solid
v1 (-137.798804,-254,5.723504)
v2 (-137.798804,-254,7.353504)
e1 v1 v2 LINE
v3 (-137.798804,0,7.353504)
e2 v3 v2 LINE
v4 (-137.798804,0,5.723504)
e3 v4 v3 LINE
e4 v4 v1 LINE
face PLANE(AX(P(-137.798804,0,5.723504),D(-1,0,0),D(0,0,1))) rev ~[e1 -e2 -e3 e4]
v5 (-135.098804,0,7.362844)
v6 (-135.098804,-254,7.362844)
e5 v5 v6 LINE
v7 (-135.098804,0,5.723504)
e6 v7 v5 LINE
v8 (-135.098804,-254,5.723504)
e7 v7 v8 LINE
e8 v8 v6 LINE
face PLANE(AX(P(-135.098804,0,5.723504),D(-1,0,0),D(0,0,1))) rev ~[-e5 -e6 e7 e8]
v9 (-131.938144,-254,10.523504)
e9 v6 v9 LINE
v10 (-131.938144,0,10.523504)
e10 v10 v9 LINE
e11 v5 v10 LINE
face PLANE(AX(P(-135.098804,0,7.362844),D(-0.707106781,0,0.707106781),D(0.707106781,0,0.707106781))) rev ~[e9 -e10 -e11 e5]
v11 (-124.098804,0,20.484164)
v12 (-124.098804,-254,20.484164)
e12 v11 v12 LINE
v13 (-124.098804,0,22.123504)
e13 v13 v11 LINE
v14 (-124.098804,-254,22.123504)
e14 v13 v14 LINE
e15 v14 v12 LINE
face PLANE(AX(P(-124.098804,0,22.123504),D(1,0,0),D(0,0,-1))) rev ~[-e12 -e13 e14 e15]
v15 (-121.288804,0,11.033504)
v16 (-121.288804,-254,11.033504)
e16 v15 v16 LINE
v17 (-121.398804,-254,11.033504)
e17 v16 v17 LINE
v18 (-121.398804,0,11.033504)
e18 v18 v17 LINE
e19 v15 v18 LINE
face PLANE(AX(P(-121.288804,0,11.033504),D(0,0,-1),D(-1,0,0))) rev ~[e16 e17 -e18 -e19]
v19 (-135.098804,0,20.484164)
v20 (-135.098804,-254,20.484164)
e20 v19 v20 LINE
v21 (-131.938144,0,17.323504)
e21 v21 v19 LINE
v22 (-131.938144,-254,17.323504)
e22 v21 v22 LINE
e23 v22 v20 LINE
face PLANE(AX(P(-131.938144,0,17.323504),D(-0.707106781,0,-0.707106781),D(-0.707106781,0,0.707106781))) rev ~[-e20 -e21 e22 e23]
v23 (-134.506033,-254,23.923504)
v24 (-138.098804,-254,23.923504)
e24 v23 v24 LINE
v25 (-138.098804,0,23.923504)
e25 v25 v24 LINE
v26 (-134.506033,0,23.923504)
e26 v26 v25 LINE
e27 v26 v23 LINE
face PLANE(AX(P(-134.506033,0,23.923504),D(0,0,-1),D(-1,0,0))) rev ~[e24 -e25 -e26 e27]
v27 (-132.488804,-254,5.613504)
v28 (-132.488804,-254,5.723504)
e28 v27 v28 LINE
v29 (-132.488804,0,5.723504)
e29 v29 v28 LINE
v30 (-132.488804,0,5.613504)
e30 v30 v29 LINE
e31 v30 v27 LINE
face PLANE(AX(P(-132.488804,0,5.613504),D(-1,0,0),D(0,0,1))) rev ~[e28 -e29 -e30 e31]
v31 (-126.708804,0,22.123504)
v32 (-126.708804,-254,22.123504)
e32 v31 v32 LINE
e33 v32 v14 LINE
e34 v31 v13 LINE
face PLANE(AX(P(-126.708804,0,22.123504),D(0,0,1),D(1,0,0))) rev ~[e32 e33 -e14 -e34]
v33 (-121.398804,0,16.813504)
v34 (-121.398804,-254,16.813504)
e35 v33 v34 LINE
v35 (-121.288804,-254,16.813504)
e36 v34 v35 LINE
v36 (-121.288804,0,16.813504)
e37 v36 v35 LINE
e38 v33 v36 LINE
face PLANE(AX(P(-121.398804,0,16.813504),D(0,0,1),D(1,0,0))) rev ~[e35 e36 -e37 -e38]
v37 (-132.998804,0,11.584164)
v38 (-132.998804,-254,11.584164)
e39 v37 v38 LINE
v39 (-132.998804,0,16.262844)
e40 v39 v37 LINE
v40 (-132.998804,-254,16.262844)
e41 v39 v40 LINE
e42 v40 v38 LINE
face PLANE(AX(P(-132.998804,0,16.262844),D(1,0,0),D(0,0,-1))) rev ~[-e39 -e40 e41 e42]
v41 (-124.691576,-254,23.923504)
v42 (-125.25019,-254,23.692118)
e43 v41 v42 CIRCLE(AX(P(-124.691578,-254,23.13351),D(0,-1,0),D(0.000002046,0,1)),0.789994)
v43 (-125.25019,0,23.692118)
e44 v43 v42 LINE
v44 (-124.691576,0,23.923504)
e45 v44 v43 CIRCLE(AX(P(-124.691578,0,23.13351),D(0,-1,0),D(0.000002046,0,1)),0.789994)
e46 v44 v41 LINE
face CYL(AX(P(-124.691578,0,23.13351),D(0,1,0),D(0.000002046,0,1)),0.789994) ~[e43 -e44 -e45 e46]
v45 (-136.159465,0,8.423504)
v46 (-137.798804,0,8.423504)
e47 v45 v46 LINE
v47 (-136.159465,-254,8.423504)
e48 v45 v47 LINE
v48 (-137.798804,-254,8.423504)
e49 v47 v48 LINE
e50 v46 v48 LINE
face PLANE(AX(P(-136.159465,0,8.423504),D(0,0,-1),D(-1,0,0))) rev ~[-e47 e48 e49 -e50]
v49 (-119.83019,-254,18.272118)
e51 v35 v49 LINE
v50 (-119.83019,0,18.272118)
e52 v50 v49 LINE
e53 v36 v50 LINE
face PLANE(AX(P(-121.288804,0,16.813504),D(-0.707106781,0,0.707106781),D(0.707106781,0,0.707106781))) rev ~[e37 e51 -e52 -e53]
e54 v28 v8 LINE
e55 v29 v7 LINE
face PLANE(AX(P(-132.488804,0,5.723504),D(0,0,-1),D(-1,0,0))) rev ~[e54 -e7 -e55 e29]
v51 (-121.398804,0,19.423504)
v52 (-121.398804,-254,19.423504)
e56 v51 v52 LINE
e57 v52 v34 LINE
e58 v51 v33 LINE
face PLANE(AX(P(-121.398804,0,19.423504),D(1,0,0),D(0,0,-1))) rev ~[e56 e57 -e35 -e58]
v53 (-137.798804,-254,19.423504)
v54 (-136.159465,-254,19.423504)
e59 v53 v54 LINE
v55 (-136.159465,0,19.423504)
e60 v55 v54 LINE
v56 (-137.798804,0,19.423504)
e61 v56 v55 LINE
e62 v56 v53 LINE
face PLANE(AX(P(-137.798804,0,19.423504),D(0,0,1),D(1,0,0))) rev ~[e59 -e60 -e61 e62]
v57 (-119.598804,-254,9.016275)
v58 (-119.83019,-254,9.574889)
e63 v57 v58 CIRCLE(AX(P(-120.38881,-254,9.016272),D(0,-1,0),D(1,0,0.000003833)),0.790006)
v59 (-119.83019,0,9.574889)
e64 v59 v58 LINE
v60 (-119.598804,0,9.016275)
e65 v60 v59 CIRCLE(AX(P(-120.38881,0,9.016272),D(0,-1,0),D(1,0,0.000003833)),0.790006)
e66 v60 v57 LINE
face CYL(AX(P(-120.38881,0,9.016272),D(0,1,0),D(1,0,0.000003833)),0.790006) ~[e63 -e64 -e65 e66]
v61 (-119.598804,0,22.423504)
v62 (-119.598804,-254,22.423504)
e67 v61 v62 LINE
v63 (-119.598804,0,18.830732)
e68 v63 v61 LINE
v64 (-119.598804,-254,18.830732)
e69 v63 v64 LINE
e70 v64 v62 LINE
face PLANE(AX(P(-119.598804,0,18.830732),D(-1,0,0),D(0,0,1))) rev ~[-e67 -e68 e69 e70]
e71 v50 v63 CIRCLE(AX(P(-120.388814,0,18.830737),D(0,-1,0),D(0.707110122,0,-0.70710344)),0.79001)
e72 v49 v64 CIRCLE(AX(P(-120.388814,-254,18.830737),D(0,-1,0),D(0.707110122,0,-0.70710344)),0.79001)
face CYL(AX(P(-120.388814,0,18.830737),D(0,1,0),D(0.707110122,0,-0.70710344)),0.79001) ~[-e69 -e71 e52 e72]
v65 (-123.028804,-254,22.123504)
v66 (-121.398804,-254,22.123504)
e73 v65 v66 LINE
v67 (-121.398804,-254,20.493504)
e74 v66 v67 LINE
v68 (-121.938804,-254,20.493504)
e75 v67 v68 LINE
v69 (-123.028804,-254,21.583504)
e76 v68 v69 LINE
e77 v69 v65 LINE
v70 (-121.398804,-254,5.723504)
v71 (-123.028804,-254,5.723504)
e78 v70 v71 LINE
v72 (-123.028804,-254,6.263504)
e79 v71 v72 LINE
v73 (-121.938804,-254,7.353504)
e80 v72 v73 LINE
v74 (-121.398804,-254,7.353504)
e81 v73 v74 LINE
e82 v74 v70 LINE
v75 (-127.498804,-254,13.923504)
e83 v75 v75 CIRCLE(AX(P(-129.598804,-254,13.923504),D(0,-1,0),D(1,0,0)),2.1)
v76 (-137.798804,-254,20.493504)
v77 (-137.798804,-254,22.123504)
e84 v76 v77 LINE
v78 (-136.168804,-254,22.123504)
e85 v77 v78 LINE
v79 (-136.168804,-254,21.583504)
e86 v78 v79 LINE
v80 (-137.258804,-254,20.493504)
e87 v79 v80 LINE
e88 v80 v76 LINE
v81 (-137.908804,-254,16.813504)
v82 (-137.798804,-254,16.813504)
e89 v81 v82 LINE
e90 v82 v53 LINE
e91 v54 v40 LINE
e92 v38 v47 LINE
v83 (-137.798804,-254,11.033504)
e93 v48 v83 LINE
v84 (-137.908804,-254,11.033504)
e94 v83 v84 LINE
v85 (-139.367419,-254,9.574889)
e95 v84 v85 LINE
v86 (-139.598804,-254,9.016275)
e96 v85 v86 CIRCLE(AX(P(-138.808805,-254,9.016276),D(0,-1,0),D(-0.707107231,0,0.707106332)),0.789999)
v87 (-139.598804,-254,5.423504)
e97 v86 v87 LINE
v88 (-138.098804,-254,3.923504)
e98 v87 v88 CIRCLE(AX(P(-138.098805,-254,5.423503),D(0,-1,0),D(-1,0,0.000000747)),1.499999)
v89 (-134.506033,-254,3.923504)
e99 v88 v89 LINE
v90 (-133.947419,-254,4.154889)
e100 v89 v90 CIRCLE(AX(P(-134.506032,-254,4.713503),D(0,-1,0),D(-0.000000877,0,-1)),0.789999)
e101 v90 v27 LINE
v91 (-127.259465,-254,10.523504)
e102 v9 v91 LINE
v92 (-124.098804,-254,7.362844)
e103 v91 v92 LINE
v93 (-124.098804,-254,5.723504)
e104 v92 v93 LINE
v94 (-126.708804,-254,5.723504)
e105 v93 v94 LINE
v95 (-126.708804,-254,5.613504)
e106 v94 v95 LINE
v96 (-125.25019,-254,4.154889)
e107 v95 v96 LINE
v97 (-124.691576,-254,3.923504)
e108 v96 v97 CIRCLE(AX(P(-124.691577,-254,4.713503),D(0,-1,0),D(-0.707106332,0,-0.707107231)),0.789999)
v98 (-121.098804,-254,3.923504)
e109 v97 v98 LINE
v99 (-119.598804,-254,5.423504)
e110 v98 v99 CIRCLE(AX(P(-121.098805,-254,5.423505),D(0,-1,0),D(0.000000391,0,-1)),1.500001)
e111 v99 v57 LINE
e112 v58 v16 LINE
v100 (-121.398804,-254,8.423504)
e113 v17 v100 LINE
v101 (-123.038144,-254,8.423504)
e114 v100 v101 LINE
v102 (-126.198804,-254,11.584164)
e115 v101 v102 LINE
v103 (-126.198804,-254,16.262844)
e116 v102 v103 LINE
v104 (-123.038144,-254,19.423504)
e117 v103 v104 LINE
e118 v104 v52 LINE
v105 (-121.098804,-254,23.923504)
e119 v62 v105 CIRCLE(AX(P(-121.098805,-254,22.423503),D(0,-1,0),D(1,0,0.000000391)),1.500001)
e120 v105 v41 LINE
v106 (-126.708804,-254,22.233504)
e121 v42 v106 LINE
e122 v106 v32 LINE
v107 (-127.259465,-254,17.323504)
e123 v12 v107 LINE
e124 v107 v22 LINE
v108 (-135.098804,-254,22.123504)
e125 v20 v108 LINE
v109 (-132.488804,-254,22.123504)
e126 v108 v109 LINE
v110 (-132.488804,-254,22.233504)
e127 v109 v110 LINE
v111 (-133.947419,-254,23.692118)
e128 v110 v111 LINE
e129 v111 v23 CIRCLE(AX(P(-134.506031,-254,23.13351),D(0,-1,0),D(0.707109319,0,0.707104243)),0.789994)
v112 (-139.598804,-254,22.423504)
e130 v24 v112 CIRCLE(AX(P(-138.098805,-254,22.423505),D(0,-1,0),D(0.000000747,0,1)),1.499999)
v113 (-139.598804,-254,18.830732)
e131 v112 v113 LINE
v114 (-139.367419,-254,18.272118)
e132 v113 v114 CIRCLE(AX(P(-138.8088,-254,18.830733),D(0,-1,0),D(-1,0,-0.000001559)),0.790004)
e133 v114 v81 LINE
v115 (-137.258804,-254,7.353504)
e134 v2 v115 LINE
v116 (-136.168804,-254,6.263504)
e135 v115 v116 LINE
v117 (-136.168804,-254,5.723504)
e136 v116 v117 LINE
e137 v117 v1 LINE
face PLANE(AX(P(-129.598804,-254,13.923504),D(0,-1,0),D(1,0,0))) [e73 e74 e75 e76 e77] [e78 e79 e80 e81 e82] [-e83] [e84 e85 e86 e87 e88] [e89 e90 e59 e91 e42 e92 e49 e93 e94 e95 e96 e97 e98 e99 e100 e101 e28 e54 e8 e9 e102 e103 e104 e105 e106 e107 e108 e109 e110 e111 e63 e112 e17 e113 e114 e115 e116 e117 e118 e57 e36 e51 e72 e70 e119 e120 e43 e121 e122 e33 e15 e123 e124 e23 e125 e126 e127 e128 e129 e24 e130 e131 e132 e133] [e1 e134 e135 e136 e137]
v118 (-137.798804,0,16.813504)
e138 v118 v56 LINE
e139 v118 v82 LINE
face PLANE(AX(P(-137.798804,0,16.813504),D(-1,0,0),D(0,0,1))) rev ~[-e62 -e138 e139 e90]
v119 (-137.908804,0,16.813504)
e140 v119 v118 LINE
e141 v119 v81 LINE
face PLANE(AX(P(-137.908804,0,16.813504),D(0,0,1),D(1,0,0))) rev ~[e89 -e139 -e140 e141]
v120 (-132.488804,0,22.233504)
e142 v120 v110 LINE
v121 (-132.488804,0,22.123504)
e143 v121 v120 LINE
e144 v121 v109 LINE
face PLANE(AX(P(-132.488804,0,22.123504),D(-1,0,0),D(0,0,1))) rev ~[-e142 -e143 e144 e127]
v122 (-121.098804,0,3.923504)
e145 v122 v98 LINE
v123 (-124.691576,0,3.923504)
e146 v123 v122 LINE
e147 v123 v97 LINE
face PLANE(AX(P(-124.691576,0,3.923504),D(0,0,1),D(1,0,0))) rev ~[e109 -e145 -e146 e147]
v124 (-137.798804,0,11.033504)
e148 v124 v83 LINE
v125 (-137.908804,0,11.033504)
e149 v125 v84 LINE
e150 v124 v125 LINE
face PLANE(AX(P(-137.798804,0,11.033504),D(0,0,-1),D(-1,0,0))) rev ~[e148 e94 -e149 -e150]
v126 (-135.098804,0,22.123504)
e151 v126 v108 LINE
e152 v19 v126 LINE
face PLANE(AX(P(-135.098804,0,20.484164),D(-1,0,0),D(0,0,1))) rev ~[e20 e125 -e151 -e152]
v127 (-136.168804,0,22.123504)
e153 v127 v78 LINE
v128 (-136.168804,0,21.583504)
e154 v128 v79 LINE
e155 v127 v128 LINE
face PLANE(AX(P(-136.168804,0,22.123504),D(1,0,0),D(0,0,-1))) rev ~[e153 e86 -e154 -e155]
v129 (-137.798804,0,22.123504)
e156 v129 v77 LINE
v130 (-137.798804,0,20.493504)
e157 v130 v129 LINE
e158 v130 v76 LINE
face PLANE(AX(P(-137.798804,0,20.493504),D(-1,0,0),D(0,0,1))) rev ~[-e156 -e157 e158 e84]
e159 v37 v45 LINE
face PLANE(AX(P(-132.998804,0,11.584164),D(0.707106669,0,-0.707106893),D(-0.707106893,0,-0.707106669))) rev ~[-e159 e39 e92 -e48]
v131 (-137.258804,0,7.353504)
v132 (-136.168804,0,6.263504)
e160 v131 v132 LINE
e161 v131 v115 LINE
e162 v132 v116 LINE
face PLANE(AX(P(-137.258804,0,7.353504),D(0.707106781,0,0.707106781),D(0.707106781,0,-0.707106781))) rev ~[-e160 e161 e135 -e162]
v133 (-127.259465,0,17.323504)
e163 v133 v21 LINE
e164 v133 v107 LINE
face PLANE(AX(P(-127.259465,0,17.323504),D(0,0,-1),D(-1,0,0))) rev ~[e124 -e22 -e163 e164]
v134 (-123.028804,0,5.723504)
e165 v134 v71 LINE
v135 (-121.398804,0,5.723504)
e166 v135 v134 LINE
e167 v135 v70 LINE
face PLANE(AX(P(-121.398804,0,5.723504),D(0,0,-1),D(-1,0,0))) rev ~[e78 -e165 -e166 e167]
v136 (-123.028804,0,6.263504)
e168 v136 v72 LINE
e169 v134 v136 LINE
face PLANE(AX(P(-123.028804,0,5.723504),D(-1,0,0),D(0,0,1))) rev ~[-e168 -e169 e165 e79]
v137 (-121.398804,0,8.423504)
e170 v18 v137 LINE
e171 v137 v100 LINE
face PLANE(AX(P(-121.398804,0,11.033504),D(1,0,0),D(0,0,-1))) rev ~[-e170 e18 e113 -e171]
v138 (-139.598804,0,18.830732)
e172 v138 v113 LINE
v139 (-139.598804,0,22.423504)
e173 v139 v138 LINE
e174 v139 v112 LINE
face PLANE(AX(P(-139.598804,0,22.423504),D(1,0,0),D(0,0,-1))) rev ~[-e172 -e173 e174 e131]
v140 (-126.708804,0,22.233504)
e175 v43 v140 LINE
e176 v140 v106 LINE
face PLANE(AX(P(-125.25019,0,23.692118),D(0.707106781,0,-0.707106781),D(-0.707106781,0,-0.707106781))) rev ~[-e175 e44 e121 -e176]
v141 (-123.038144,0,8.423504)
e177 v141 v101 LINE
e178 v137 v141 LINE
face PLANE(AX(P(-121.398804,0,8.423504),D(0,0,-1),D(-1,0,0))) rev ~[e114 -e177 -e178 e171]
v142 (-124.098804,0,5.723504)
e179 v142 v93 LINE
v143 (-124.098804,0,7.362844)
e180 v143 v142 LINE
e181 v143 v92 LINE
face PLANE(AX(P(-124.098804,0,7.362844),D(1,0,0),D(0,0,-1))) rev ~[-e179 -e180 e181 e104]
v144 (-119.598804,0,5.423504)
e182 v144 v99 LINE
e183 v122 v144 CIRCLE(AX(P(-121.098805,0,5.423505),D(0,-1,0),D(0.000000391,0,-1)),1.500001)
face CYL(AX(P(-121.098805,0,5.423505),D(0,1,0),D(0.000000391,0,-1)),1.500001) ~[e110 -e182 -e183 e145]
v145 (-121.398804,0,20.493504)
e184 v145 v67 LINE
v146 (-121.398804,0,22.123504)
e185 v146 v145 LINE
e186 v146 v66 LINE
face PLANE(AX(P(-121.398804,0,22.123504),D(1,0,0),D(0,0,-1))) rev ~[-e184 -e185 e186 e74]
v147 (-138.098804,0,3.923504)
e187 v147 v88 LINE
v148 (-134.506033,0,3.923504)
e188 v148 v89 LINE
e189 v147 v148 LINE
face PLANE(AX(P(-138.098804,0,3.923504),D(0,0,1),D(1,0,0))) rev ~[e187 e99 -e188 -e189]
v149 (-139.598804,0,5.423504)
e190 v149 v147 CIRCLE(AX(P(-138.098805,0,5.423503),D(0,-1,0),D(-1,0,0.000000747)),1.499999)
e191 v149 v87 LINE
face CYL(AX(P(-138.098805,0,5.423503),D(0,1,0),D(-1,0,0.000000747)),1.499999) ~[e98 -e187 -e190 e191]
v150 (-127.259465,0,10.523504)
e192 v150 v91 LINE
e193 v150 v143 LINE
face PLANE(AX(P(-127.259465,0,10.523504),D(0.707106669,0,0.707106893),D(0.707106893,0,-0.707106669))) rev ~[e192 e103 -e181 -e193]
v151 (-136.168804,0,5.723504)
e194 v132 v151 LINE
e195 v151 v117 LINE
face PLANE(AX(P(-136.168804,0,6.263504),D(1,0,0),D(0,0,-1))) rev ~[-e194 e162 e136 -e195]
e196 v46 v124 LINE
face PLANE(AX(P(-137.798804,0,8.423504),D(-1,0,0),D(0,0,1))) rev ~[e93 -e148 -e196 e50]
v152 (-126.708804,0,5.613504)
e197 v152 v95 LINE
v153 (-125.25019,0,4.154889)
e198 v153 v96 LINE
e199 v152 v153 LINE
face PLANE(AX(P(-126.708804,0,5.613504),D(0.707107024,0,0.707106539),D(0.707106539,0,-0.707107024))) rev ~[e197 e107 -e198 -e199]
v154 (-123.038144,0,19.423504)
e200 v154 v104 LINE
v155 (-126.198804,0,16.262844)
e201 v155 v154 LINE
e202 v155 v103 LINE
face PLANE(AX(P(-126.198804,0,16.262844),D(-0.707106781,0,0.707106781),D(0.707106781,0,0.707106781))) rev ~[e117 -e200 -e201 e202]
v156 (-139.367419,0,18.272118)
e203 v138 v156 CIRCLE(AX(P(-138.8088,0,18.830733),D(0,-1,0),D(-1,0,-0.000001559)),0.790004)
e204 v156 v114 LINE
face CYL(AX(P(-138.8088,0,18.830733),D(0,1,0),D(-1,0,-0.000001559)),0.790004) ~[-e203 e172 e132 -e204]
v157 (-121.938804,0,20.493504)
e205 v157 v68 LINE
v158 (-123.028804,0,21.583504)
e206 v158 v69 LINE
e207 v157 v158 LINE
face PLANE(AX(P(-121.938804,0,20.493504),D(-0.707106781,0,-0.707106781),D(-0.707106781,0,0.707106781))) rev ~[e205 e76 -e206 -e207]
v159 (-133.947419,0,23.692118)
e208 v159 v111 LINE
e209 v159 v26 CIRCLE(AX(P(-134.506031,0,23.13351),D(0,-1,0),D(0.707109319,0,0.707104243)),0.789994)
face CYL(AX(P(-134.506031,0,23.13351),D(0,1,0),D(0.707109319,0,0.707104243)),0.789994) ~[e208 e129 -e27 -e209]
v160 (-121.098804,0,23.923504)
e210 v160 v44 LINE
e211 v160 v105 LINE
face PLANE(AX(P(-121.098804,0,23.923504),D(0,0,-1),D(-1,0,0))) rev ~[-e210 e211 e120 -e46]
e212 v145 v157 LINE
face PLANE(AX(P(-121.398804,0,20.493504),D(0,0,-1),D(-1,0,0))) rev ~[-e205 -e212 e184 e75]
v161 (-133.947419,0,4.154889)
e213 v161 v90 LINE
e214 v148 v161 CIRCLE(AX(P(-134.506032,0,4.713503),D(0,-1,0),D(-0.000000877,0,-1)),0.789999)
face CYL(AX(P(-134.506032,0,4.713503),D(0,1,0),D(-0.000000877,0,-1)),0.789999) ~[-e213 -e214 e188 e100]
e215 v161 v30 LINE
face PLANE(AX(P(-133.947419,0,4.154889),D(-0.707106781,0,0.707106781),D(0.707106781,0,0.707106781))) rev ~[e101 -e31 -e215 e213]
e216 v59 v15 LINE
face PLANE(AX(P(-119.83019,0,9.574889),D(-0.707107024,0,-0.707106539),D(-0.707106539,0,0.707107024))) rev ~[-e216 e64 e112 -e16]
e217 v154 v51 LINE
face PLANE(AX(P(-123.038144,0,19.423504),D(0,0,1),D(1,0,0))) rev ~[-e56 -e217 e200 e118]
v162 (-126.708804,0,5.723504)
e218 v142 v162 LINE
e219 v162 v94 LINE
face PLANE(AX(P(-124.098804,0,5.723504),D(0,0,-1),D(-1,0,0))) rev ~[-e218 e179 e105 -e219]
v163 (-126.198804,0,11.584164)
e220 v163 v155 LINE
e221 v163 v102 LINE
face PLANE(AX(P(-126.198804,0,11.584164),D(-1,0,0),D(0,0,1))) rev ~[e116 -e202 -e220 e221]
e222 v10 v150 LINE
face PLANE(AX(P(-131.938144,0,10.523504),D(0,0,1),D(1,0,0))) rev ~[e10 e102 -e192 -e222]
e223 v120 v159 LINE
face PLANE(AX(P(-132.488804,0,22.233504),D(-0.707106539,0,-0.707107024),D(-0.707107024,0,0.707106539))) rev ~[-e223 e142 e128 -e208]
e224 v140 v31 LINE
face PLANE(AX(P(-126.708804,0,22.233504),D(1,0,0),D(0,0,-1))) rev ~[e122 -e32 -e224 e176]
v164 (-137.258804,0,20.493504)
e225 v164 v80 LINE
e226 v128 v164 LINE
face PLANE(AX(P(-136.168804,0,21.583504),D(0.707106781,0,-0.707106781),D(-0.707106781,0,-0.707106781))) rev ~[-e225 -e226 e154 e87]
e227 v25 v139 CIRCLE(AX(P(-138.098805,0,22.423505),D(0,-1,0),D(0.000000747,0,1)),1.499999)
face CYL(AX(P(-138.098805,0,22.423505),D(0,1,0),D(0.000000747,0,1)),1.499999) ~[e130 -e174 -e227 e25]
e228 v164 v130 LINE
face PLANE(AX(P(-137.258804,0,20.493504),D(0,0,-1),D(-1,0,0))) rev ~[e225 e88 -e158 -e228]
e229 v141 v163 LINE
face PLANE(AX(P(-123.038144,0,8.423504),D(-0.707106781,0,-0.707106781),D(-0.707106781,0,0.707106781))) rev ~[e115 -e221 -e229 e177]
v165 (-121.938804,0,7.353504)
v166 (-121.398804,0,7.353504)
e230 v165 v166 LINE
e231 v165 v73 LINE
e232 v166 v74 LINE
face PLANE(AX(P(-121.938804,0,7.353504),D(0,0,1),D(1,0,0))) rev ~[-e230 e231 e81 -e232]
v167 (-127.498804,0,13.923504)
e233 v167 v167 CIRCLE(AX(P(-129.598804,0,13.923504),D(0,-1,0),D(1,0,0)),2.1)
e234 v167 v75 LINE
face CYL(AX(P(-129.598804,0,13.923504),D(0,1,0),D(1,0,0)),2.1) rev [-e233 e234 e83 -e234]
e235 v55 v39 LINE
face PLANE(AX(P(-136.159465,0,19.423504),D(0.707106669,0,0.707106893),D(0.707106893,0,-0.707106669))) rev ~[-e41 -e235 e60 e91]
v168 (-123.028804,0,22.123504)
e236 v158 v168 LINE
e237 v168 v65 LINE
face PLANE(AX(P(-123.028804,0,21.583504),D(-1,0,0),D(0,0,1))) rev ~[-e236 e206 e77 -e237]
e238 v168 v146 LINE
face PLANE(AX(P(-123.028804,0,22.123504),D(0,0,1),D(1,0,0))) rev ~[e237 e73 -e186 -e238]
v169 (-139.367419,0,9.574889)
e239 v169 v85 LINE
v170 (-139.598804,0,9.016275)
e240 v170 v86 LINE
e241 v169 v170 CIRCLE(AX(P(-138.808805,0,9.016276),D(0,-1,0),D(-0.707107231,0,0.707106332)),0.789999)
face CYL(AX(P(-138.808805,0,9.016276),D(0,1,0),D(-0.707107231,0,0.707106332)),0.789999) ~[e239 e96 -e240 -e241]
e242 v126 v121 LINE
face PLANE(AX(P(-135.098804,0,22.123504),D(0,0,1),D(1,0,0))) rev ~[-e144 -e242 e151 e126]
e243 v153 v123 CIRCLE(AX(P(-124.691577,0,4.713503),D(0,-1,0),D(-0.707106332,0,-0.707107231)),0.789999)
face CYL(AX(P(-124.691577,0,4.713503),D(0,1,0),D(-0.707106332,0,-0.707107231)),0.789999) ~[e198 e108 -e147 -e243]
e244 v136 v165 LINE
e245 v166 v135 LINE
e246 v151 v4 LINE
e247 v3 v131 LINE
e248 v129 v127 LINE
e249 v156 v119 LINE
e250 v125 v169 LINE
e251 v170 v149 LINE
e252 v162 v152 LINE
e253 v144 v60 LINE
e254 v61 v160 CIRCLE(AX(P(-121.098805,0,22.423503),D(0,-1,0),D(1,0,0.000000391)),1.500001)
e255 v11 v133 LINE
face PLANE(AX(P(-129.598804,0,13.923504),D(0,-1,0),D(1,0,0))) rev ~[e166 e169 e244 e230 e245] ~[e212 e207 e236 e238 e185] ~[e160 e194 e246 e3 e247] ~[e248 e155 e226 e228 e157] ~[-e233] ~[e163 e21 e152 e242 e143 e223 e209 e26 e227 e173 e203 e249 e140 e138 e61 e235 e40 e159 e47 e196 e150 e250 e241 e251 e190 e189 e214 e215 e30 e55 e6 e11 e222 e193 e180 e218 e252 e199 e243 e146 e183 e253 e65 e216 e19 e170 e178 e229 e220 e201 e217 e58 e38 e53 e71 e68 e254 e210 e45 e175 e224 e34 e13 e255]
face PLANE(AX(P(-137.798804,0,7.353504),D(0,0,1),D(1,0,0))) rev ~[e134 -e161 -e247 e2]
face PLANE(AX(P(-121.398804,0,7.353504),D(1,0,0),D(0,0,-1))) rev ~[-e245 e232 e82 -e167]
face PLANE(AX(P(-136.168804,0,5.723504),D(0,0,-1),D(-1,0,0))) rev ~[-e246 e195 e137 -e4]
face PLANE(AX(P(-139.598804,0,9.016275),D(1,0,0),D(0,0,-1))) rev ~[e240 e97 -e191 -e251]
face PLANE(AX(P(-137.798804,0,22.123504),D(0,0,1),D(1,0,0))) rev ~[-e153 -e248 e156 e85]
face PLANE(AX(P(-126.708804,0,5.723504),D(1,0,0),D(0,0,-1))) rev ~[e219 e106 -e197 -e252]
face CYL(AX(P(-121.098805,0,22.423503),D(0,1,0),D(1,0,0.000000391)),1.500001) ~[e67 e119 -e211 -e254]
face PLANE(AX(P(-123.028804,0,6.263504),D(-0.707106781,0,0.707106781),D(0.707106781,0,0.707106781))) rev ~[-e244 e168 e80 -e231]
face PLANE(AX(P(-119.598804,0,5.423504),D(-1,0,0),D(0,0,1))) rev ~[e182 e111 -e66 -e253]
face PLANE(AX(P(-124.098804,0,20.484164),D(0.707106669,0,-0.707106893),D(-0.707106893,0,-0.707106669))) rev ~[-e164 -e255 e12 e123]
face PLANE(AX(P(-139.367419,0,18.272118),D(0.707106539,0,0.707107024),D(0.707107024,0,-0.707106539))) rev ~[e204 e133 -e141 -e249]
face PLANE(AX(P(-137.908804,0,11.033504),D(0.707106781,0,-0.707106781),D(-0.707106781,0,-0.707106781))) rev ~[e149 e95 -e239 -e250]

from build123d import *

# Parameters (mm, degrees)
F0_R     = 2.1
F1_DEPTH = 254


with BuildPart() as f1:
    # F0 (on Front) → F1 (new body)
    with BuildSketch(Plane.XZ):
        with BuildLine():
            Line((-123.038144, 8.423504), (-126.198804, 11.584164))
            Line((-126.198804, 11.584164), (-126.198804, 16.262844))
            Line((-126.198804, 16.262844), (-123.038144, 19.423504))
            Line((-123.038144, 19.423504), (-121.398804, 19.423504))
            Line((-121.398804, 19.423504), (-121.398804, 16.813504))
            Line((-121.398804, 16.813504), (-121.288804, 16.813504))
            Line((-121.288804, 16.813504), (-119.83019, 18.272118))
            ThreePointArc((-119.83019, 18.272118), (-119.65894, 18.528413), (-119.598804, 18.830732))
            Line((-119.598804, 18.830732), (-119.598804, 22.423504))
            ThreePointArc((-119.598804, 22.423504), (-120.038144, 23.484164), (-121.098804, 23.923504))
            Line((-121.098804, 23.923504), (-124.691576, 23.923504))
            ThreePointArc((-124.691576, 23.923504), (-124.993896, 23.863369), (-125.25019, 23.692118))
            Line((-125.25019, 23.692118), (-126.708804, 22.233504))
            Line((-126.708804, 22.233504), (-126.708804, 22.123504))
            Line((-126.708804, 22.123504), (-124.098804, 22.123504))
            Line((-124.098804, 22.123504), (-124.098804, 20.484164))
            Line((-124.098804, 20.484164), (-127.259465, 17.323504))
            Line((-127.259465, 17.323504), (-131.938144, 17.323504))
            Line((-131.938144, 17.323504), (-135.098804, 20.484164))
            Line((-135.098804, 20.484164), (-135.098804, 22.123504))
            Line((-135.098804, 22.123504), (-132.488804, 22.123504))
            Line((-132.488804, 22.123504), (-132.488804, 22.233504))
            Line((-132.488804, 22.233504), (-133.947419, 23.692118))
            ThreePointArc((-133.947419, 23.692118), (-134.203713, 23.863369), (-134.506033, 23.923504))
            Line((-134.506033, 23.923504), (-138.098804, 23.923504))
            ThreePointArc((-138.098804, 23.923504), (-139.159465, 23.484164), (-139.598804, 22.423504))
            Line((-139.598804, 22.423504), (-139.598804, 18.830732))
            ThreePointArc((-139.598804, 18.830732), (-139.538669, 18.528413), (-139.367419, 18.272118))
            Line((-139.367419, 18.272118), (-137.908804, 16.813504))
            Line((-137.908804, 16.813504), (-137.798804, 16.813504))
            Line((-137.798804, 16.813504), (-137.798804, 19.423504))
            Line((-137.798804, 19.423504), (-136.159465, 19.423504))
            Line((-136.159465, 19.423504), (-132.998804, 16.262844))
            Line((-132.998804, 16.262844), (-132.998804, 11.584164))
            Line((-132.998804, 11.584164), (-136.159465, 8.423504))
            Line((-136.159465, 8.423504), (-137.798804, 8.423504))
            Line((-137.798804, 8.423504), (-137.798804, 11.033504))
            Line((-137.798804, 11.033504), (-137.908804, 11.033504))
            Line((-137.908804, 11.033504), (-139.367419, 9.574889))
            ThreePointArc((-139.367419, 9.574889), (-139.538669, 9.318595), (-139.598804, 9.016275))
            Line((-139.598804, 9.016275), (-139.598804, 5.423504))
            ThreePointArc((-139.598804, 5.423504), (-139.159465, 4.362844), (-138.098804, 3.923504))
            Line((-138.098804, 3.923504), (-134.506033, 3.923504))
            ThreePointArc((-134.506033, 3.923504), (-134.203713, 3.983639), (-133.947419, 4.154889))
            Line((-133.947419, 4.154889), (-132.488804, 5.613504))
            Line((-132.488804, 5.613504), (-132.488804, 5.723504))
            Line((-132.488804, 5.723504), (-135.098804, 5.723504))
            Line((-135.098804, 5.723504), (-135.098804, 7.362844))
            Line((-135.098804, 7.362844), (-131.938144, 10.523504))
            Line((-131.938144, 10.523504), (-127.259465, 10.523504))
            Line((-127.259465, 10.523504), (-124.098804, 7.362844))
            Line((-124.098804, 7.362844), (-124.098804, 5.723504))
            Line((-124.098804, 5.723504), (-126.708804, 5.723504))
            Line((-126.708804, 5.723504), (-126.708804, 5.613504))
            Line((-126.708804, 5.613504), (-125.25019, 4.154889))
            ThreePointArc((-125.25019, 4.154889), (-124.993896, 3.983639), (-124.691576, 3.923504))
            Line((-124.691576, 3.923504), (-121.098804, 3.923504))
            ThreePointArc((-121.098804, 3.923504), (-120.038144, 4.362844), (-119.598804, 5.423504))
            Line((-119.598804, 5.423504), (-119.598804, 9.016275))
            ThreePointArc((-119.598804, 9.016275), (-119.65894, 9.318595), (-119.83019, 9.574889))
            Line((-119.83019, 9.574889), (-121.288804, 11.033504))
            Line((-121.288804, 11.033504), (-121.398804, 11.033504))
            Line((-121.398804, 11.033504), (-121.398804, 8.423504))
            Line((-121.398804, 8.423504), (-123.038144, 8.423504))
        make_face()
        Polygon((-137.798804, 7.353504), (-137.258804, 7.353504), (-136.168804, 6.263504), (-136.168804, 5.723504), (-137.798804, 5.723504), align=None, mode=Mode.SUBTRACT)
        Polygon((-121.938804, 7.353504), (-121.398804, 7.353504), (-121.398804, 5.723504), (-123.028804, 5.723504), (-123.028804, 6.263504), align=None, mode=Mode.SUBTRACT)
        with Locations((-129.598804, 13.923504)):
            Circle(F0_R, mode=Mode.SUBTRACT)
        Polygon((-136.168804, 22.123504), (-136.168804, 21.583504), (-137.258804, 20.493504), (-137.798804, 20.493504), (-137.798804, 22.123504), align=None, mode=Mode.SUBTRACT)
        Polygon((-123.028804, 21.583504), (-123.028804, 22.123504), (-121.398804, 22.123504), (-121.398804, 20.493504), (-121.938804, 20.493504), align=None, mode=Mode.SUBTRACT)
    extrude(amount=F1_DEPTH)


solid = f1.part
